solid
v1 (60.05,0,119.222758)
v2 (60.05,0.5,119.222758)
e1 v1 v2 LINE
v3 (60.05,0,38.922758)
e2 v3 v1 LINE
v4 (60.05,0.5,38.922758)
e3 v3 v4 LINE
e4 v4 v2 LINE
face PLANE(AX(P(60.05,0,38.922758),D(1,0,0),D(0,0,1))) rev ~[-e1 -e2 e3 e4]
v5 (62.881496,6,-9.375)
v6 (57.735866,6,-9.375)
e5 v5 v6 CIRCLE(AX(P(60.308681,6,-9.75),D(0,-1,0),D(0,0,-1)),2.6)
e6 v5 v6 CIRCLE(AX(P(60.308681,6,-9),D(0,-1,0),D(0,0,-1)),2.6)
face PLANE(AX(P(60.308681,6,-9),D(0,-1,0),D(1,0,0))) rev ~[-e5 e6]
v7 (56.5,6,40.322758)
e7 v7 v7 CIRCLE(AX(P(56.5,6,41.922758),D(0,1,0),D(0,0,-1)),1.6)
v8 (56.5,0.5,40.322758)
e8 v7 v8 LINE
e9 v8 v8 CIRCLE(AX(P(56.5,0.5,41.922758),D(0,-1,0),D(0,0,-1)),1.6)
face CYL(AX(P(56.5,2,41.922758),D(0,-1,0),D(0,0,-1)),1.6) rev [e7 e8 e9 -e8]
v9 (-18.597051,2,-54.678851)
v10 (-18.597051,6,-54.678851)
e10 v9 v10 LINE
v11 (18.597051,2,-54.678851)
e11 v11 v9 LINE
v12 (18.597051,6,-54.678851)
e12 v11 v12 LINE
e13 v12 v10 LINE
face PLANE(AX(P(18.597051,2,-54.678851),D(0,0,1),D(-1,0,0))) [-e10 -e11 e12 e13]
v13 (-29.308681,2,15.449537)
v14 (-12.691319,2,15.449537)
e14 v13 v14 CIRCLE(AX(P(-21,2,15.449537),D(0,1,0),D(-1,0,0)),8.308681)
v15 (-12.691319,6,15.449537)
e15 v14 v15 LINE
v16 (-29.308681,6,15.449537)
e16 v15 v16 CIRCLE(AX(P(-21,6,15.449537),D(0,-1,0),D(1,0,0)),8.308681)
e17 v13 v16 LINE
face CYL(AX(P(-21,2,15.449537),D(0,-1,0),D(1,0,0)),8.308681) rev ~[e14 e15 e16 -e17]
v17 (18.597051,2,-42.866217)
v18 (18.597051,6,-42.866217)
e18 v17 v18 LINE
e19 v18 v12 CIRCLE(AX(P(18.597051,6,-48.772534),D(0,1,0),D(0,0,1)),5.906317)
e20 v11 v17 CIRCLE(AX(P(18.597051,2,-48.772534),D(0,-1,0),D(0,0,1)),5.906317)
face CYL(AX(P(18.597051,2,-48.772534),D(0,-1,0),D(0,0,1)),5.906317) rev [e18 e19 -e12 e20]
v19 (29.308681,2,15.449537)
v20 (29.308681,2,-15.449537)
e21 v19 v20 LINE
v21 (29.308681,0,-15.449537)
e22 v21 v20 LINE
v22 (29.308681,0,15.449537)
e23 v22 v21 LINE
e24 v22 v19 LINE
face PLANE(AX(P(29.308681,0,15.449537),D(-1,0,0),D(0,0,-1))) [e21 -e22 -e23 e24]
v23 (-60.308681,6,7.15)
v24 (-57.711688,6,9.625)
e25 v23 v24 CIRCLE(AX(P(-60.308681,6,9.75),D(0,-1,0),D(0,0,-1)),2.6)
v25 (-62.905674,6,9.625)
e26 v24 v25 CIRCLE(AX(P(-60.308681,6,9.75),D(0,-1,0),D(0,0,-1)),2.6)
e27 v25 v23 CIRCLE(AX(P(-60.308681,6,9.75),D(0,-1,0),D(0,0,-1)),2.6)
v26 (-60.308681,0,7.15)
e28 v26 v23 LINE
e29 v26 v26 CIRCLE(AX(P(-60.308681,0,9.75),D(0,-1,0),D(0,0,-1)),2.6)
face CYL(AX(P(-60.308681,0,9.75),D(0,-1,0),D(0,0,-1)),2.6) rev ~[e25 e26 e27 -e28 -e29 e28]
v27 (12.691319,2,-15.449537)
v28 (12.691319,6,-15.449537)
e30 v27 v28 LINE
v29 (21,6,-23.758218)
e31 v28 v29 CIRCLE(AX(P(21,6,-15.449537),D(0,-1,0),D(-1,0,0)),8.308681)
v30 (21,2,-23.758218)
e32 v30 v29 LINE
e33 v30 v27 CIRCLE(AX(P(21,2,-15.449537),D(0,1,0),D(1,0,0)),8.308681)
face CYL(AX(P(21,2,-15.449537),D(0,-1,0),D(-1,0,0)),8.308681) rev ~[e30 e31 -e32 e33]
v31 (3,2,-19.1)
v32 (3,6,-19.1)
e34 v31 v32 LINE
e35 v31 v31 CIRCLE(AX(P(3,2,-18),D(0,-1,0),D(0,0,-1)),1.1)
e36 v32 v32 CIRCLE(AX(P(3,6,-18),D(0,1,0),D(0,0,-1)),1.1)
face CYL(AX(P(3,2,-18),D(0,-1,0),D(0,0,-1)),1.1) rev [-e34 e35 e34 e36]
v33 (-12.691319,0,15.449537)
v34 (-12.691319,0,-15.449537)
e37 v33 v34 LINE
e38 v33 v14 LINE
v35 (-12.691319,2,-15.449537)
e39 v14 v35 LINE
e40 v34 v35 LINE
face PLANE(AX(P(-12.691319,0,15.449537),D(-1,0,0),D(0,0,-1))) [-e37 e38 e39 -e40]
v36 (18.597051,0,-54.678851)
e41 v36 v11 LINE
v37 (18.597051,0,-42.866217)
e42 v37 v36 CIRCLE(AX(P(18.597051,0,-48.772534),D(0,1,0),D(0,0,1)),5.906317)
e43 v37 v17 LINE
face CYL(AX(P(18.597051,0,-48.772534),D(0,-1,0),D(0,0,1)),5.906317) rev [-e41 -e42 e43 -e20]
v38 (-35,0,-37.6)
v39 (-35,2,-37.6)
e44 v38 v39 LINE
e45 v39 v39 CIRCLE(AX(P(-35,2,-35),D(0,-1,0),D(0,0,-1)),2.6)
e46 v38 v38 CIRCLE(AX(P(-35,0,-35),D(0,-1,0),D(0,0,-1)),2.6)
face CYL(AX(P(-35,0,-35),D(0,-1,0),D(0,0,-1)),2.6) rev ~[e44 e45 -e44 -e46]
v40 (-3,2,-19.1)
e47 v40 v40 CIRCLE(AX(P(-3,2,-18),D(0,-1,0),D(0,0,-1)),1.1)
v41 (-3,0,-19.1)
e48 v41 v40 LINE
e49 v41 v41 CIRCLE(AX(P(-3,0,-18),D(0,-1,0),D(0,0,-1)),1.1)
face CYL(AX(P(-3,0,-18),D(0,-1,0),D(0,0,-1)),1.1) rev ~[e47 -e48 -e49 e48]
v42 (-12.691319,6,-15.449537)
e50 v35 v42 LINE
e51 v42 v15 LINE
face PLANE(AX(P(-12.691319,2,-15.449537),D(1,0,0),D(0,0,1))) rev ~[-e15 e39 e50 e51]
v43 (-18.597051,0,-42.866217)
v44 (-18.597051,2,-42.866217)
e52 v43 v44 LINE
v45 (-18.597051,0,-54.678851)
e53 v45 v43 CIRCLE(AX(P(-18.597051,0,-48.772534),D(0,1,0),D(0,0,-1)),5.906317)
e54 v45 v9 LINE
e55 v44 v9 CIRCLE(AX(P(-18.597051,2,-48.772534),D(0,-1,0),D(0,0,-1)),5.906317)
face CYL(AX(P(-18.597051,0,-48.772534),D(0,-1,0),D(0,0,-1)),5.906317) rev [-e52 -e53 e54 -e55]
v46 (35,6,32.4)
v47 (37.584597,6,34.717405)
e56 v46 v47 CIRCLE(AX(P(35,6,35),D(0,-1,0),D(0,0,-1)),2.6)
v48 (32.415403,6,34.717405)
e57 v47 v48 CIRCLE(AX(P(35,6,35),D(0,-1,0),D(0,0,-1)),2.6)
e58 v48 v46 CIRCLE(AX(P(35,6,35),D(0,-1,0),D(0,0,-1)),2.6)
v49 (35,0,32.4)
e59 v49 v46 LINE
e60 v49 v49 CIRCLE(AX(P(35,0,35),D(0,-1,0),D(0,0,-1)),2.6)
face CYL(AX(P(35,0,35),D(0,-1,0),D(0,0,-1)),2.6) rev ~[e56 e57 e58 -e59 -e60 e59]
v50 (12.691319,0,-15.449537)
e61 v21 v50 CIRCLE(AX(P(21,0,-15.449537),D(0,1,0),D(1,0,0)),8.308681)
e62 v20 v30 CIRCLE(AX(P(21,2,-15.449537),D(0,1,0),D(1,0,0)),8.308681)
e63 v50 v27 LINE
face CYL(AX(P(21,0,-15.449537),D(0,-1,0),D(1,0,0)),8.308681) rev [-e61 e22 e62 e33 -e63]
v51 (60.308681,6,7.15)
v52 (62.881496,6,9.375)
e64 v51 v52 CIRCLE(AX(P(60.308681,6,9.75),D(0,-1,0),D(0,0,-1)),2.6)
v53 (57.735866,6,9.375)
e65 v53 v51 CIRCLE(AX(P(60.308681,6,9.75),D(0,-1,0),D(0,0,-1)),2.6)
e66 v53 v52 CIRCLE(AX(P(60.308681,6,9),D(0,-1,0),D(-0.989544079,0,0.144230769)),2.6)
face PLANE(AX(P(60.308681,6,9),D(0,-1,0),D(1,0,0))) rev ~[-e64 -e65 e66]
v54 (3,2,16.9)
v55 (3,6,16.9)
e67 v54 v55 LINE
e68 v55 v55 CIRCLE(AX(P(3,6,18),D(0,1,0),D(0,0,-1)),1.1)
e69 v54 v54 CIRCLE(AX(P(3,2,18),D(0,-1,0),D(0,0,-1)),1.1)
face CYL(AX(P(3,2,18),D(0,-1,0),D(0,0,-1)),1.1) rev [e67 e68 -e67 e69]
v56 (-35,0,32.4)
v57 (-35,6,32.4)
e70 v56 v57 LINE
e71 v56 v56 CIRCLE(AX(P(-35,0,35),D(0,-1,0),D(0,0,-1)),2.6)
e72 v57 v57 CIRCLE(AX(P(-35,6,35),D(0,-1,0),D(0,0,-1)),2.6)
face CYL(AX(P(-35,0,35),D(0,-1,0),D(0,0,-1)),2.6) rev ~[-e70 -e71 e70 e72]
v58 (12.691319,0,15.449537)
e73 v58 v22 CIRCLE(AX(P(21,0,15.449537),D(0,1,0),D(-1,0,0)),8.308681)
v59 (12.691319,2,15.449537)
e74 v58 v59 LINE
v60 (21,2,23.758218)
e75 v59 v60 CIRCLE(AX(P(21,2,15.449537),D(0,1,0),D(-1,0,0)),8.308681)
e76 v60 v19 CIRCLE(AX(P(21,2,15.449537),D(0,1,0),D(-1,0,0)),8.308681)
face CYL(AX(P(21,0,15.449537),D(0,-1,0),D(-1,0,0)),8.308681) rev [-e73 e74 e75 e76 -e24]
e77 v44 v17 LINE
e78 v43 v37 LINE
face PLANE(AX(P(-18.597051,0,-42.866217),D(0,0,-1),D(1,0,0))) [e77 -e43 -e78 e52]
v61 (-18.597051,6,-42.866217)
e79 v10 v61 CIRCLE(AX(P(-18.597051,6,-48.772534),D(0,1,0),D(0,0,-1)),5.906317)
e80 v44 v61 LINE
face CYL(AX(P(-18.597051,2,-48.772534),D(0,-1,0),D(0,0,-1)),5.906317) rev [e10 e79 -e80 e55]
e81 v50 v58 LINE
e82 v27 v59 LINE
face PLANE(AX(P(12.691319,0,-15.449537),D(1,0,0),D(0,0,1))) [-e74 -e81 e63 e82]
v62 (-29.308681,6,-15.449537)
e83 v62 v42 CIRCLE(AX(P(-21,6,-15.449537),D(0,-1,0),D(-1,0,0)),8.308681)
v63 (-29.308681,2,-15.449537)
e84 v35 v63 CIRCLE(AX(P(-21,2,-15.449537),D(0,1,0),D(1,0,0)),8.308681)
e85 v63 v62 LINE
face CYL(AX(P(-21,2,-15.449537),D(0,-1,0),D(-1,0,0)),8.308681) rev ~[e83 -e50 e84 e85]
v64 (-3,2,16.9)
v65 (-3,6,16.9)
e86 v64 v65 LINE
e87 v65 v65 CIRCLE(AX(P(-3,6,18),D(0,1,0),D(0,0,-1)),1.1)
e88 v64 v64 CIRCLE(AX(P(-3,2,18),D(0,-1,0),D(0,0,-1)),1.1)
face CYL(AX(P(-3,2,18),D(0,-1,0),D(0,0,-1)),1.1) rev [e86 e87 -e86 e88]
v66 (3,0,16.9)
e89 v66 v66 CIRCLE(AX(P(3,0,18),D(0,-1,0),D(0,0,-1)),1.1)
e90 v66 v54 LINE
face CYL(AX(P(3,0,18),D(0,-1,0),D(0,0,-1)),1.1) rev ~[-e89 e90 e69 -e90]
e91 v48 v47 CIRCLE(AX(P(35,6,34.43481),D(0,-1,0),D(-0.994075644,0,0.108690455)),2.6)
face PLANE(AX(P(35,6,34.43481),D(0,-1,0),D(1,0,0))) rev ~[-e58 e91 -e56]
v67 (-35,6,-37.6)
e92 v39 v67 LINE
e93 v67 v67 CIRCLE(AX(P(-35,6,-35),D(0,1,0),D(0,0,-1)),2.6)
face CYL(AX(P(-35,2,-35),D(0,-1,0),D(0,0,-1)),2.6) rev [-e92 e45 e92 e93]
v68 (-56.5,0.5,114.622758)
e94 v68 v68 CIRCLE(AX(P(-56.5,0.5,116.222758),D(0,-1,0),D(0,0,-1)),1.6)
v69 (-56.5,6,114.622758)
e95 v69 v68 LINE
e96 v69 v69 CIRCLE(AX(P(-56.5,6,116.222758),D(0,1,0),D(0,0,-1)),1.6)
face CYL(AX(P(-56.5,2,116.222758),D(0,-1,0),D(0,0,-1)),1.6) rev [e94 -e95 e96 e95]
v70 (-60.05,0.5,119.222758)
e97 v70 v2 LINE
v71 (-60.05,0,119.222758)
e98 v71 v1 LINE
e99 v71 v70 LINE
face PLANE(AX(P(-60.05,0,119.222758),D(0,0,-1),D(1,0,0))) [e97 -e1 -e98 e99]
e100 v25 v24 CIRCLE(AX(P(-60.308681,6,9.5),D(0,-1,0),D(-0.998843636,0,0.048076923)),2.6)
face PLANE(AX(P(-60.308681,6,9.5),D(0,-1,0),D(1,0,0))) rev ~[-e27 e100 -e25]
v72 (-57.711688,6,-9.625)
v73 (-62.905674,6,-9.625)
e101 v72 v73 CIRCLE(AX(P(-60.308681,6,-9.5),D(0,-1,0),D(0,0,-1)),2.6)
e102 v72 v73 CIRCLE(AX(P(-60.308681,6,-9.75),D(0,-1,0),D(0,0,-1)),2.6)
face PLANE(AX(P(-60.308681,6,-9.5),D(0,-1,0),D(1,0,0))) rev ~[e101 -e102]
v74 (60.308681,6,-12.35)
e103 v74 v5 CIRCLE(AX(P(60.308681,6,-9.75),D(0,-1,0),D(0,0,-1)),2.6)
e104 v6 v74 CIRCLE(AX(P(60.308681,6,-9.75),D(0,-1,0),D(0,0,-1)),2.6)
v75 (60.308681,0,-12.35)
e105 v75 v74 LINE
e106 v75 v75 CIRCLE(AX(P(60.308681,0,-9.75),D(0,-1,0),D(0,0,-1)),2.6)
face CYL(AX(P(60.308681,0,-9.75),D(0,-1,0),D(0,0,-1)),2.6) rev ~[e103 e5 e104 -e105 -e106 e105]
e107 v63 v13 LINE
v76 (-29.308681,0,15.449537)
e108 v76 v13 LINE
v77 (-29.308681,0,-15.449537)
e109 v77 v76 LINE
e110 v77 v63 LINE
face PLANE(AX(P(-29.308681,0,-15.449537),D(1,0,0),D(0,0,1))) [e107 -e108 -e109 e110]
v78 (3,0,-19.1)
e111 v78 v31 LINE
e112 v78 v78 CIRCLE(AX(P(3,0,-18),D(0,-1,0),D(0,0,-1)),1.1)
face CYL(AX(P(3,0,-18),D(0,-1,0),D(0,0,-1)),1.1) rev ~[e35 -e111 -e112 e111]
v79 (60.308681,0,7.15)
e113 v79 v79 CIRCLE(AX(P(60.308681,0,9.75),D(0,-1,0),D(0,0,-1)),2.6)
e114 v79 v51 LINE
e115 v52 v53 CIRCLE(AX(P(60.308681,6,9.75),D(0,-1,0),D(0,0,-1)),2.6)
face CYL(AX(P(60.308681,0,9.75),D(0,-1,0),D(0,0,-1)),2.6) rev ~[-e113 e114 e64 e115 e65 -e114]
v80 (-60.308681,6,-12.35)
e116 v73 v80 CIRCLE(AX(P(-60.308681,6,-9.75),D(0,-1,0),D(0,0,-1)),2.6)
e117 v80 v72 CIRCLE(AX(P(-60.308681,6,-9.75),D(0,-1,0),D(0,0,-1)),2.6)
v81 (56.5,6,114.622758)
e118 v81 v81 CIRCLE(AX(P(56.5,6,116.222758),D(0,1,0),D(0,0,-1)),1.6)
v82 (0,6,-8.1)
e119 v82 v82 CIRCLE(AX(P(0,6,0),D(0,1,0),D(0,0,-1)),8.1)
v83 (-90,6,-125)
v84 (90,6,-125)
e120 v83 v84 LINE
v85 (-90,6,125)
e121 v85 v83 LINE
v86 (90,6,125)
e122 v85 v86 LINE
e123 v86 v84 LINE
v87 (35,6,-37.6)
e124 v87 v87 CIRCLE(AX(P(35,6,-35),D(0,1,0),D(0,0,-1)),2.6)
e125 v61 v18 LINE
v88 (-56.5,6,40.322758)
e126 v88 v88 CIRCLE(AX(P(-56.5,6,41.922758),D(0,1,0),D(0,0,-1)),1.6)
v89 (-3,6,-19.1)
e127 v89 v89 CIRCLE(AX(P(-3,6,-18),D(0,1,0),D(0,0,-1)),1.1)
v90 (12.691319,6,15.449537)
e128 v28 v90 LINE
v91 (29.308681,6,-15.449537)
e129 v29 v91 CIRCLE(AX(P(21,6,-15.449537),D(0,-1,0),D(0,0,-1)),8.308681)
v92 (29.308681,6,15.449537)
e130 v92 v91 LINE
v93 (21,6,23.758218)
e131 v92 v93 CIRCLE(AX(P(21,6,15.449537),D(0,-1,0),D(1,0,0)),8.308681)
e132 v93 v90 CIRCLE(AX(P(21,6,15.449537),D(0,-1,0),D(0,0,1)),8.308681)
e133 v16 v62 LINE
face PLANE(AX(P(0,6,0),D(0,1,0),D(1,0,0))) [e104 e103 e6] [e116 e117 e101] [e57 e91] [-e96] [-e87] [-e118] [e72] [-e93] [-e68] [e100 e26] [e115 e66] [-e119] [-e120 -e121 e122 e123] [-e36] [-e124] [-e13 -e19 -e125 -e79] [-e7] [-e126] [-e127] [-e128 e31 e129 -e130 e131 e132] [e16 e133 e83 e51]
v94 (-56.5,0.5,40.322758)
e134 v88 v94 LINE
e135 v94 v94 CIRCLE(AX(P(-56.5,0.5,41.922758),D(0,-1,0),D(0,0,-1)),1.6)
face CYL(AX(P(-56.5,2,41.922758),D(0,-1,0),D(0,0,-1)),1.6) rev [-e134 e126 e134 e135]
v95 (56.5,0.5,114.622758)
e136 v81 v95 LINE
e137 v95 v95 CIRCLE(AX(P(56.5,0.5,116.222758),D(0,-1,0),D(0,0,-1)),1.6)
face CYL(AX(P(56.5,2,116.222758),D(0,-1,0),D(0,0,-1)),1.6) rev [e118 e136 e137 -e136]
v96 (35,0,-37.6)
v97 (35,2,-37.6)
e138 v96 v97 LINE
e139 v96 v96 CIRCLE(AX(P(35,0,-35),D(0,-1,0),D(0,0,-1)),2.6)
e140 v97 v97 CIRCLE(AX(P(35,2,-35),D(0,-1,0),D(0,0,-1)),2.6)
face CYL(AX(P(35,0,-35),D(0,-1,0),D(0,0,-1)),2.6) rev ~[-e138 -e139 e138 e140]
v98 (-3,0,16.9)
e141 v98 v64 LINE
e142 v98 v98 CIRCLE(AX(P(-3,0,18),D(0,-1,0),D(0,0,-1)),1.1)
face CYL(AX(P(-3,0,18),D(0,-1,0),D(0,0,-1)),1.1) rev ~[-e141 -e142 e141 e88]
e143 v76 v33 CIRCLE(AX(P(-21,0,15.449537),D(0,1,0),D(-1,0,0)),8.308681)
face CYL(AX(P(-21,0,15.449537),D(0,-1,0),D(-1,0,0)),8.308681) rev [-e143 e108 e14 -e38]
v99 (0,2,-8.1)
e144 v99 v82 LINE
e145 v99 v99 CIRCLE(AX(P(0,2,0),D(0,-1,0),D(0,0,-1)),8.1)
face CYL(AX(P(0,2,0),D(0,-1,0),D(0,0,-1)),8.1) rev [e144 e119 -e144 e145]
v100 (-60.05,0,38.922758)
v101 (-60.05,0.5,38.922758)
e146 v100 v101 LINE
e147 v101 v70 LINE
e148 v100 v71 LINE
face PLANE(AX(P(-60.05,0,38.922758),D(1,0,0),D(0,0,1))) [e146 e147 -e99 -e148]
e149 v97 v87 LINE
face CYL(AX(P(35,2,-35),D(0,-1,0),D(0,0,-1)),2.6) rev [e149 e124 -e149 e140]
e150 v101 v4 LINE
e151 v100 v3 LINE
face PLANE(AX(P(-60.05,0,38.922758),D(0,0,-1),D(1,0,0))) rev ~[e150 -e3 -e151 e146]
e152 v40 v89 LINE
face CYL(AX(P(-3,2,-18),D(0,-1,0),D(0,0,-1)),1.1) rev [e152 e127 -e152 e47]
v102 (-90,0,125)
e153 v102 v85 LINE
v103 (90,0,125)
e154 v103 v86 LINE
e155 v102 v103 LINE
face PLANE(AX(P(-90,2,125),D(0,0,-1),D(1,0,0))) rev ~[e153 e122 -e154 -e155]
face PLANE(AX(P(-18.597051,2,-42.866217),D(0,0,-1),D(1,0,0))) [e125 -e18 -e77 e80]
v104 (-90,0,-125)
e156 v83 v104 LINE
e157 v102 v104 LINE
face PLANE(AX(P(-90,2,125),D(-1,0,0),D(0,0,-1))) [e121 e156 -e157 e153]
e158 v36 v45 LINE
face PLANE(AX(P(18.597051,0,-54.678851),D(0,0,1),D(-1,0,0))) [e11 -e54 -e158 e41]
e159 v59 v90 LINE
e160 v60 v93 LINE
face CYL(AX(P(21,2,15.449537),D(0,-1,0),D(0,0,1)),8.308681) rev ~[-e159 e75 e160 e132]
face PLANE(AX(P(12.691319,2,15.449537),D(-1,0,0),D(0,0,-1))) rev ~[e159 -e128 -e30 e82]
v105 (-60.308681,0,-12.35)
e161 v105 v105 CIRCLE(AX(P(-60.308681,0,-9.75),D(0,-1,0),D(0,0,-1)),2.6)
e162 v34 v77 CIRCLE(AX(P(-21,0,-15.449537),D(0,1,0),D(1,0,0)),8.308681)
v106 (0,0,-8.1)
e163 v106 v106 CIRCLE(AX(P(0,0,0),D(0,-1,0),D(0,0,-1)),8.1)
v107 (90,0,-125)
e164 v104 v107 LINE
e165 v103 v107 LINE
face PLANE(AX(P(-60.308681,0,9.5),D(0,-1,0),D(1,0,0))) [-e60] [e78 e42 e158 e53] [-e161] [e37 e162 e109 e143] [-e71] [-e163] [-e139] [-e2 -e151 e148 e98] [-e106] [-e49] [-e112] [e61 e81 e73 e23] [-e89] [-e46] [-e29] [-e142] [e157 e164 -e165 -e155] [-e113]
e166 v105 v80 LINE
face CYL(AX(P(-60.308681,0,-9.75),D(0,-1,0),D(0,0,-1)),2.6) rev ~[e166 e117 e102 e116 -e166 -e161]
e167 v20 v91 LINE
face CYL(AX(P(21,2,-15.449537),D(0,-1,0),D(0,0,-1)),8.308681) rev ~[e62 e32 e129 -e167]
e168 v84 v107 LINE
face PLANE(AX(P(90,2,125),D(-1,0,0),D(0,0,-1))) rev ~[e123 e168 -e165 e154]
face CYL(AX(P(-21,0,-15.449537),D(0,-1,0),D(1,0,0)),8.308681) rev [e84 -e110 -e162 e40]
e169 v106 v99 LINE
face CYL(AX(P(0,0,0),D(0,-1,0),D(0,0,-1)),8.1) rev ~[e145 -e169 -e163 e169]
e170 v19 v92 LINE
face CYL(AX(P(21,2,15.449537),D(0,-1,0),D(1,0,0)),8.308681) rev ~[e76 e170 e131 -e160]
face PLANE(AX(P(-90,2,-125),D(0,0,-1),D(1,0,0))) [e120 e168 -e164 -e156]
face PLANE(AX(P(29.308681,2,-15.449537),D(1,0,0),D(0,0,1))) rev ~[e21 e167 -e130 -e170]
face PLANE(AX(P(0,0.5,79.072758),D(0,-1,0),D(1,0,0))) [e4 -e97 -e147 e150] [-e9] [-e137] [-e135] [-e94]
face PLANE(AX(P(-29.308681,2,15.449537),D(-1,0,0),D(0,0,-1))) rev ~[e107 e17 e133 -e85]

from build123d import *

# Parameters (mm, degrees)
SKETCH_1_W           = 80
SKETCH_1_H           = 80
EXTRUDE_1_DEPTH      = 2
SKETCH_2_R           = 2.5
CUT_EXTRUDE_1_DEPTH  = 2
SKETCH_3_R           = 1
CUT_EXTRUDE_2_DEPTH  = 2
SKETCH_4_R           = 8
CUT_EXTRUDE_3_DEPTH  = 2
SKETCH_5_R           = 2.6
SKETCH_5_R_2         = 1.1
CUT_EXTRUDE_4_DEPTH  = 10
CUT_EXTRUDE_5_DEPTH  = 10
SKETCH_7_W           = 125
SKETCH_7_H           = 125
SKETCH_7_R           = 1.1
SKETCH_7_R_2         = 2.6
SKETCH_7_R_3         = 8
EXTRUDE_2_DEPTH      = 2
SKETCH_8_W           = 250
SKETCH_8_H           = 250
SKETCH_8_R           = 1.1
SKETCH_8_R_2         = 8
EXTRUDE_4_DEPTH      = 2
CUT_EXTRUDE_7_DEPTH  = 70
SKETCH_13_R          = 2.6
CUT_EXTRUDE_10_DEPTH = 61.5
EXTRUDE_5_DEPTH      = 2
CUT_EXTRUDE_12_DEPTH = 2
SKETCH_17_R          = 1.1
EXTRUDE_6_DEPTH      = 2
SKETCH_18_R          = 1.1
CUT_EXTRUDE_13_DEPTH = 2
SKETCH_20_W          = 120.1
SKETCH_20_H          = 80.3
CUT_EXTRUDE_14_DEPTH = 0.5
SKETCH_21_R          = 1.6
CUT_EXTRUDE_15_DEPTH = 10
SKETCH_19_R          = 2.6
CUT_EXTRUDE_16_DEPTH = 10
SKETCH_24_R          = 8.1
CUT_EXTRUDE_19_DEPTH = 10
CUT_EXTRUDE_20_DEPTH = 10
SKETCH_25_R          = 2.6
SKETCH_25_W          = 50
SKETCH_25_H          = 250
CUT_EXTRUDE_21_DEPTH = 18
SKETCH_29_W          = 15
SKETCH_29_H          = 250
EXTRUDE_9_DEPTH      = 2
SKETCH_31_W          = 180
SKETCH_31_H          = 250
SKETCH_31_R          = 1.6
SKETCH_31_R_2        = 2.6
SKETCH_31_R_3        = 1.1
SKETCH_31_R_4        = 8.1
EXTRUDE_10_DEPTH     = 4
CUT_EXTRUDE_22_DEPTH = 56
SKETCH_33_R          = 2.6
EXTRUDE_11_DEPTH     = 6
SKETCH_34_R          = 2.6
CUT_EXTRUDE_23_DEPTH = 10
SKETCH_35_R          = 2.6
EXTRUDE_12_DEPTH     = 6
SKETCH_36_R          = 2.6
CUT_EXTRUDE_24_DEPTH = 20


with BuildPart() as part:
    # 草图1 → 凸台-拉伸1 (new body)
    with BuildSketch(Plane(origin=(0, 0, 0), x_dir=(1, 0, 0), z_dir=(0, 1, 0))):
        Rectangle(SKETCH_1_W, SKETCH_1_H)
    extrude(amount=EXTRUDE_1_DEPTH)

    # 草图2 → 切除-拉伸1 (cut)
    with BuildSketch(Plane(origin=(0, 2, 0), x_dir=(1, 0, 0), z_dir=(0, 1, 0))):
        with Locations(Location((-33, -33, 0), (0, 0, 270))):
            Circle(SKETCH_2_R)
        with Locations(Location((-33, 33, 0), (0, 0, 270))):
            Circle(SKETCH_2_R)
        with Locations(Location((33, 33.941041699, 0), (0, 0, 270))):
            Circle(SKETCH_2_R)
        with Locations(Location((33, -33, 0), (0, 0, 270))):
            Circle(SKETCH_2_R)
    extrude(amount=-CUT_EXTRUDE_1_DEPTH, mode=Mode.SUBTRACT)

    # 草图3 → 切除-拉伸2 (cut)
    with BuildSketch(Plane.XZ):
        with Locations(Location((-2.5, 17.5, 0), (0, 0, 270))):
            Circle(SKETCH_3_R)
        with Locations(Location((2.5, 17.5, 0), (0, 0, 270))):
            Circle(SKETCH_3_R)
        with Locations(Location((-2.5, -17.5, 0), (0, 0, 270))):
            Circle(SKETCH_3_R)
        with Locations(Location((2.5, -17.5, 0), (0, 0, 270))):
            Circle(SKETCH_3_R)
    extrude(amount=-CUT_EXTRUDE_2_DEPTH, mode=Mode.SUBTRACT)

    # 草图4 → 切除-拉伸3 (cut)
    with BuildSketch(Plane.XZ):
        with Locations(Location((0, 0, 0), (0, 0, 270))):
            Circle(SKETCH_4_R)
    extrude(amount=-CUT_EXTRUDE_3_DEPTH, mode=Mode.SUBTRACT)

    # 草图5 → 切除-拉伸4 (cut)
    with BuildSketch(Plane.XZ):
        with Locations(Location((33, 33, 0), (0, 0, 270))):
            Circle(SKETCH_5_R)
        with Locations(Location((33, -33.941041699, 0), (0, 0, 270))):
            Circle(SKETCH_5_R)
        with Locations(Location((-33, -33, 0), (0, 0, 270))):
            Circle(SKETCH_5_R)
        with Locations(Location((-33, 33, 0), (0, 0, 270))):
            Circle(SKETCH_5_R)
        with Locations(Location((-2.5, 17.5, 0), (0, 0, 270))):
            Circle(SKETCH_5_R_2)
        with Locations(Location((2.5, 17.5, 0), (0, 0, 270))):
            Circle(SKETCH_5_R_2)
        with Locations(Location((2.5, -17.5, 0), (0, 0, 270))):
            Circle(SKETCH_5_R_2)
        with Locations(Location((-2.5, -17.5, 0), (0, 0, 270))):
            Circle(SKETCH_5_R_2)
    extrude(amount=-CUT_EXTRUDE_4_DEPTH, mode=Mode.SUBTRACT)

    # 草图6 → 切除-拉伸5 (cut)
    with BuildSketch(Plane.XZ):
        with BuildLine():
            Line((10.300693074, -30.535556058), (-10.300693074, -30.535556058))
            ThreePointArc((-10.300693074, -30.535556058), (-14.372100549, -26.464148583), (-10.300693074, -22.392741109))
            Line((-10.300693074, -22.392741109), (10.300693074, -22.392741109))
            ThreePointArc((10.300693074, -22.392741109), (14.372100549, -26.464148583), (10.300693074, -30.535556058))
        make_face()
    extrude(amount=-CUT_EXTRUDE_5_DEPTH, mode=Mode.SUBTRACT)

    # 草图7 → 凸台-拉伸2 (add)
    with BuildSketch(Plane.XZ):
        Rectangle(SKETCH_7_W, SKETCH_7_H)
        with Locations(Location((2.5, 17.5, 0), (0, 0, 270))):
            Circle(SKETCH_7_R, mode=Mode.SUBTRACT)
        with Locations(Location((-2.5, 17.5, 0), (0, 0, 270))):
            Circle(SKETCH_7_R, mode=Mode.SUBTRACT)
        with Locations(Location((-33, -33, 0), (0, 0, 270))):
            Circle(SKETCH_7_R_2, mode=Mode.SUBTRACT)
        with Locations(Location((-2.5, -17.5, 0), (0, 0, 270))):
            Circle(SKETCH_7_R, mode=Mode.SUBTRACT)
        with Locations(Location((2.5, -17.5, 0), (0, 0, 270))):
            Circle(SKETCH_7_R, mode=Mode.SUBTRACT)
        with Locations(Location((0, 0, 0), (0, 0, 270))):
            Circle(SKETCH_7_R_3, mode=Mode.SUBTRACT)
        with Locations(Location((33, -33.941041699, 0), (0, 0, 270))):
            Circle(SKETCH_7_R_2, mode=Mode.SUBTRACT)
        with Locations(Location((33, 33, 0), (0, 0, 270))):
            Circle(SKETCH_7_R_2, mode=Mode.SUBTRACT)
        with Locations(Location((-33, 33, 0), (0, 0, 270))):
            Circle(SKETCH_7_R_2, mode=Mode.SUBTRACT)
        with BuildLine():
            Line((-10.300693074, -30.535556058), (10.300693074, -30.535556058))
            ThreePointArc((10.300693074, -30.535556058), (14.372100549, -26.464148583), (10.300693074, -22.392741109))
            Line((10.300693074, -22.392741109), (-10.300693074, -22.392741109))
            ThreePointArc((-10.300693074, -22.392741109), (-14.372100549, -26.464148583), (-10.300693074, -30.535556058))
        make_face(mode=Mode.SUBTRACT)
    extrude(amount=-EXTRUDE_2_DEPTH)

    # 草图8 → 凸台-拉伸4 (add)
    with BuildSketch(Plane.XZ):
        Rectangle(SKETCH_8_W, SKETCH_8_H)
        with Locations(Location((2.5, -17.5, 0), (0, 0, 270))):
            Circle(SKETCH_8_R, mode=Mode.SUBTRACT)
        with Locations(Location((-2.5, -17.5, 0), (0, 0, 270))):
            Circle(SKETCH_8_R, mode=Mode.SUBTRACT)
        with Locations(Location((-2.5, 17.5, 0), (0, 0, 270))):
            Circle(SKETCH_8_R, mode=Mode.SUBTRACT)
        with Locations(Location((2.5, 17.5, 0), (0, 0, 270))):
            Circle(SKETCH_8_R, mode=Mode.SUBTRACT)
        with Locations(Location((0, 0, 0), (0, 0, 270))):
            Circle(SKETCH_8_R_2, mode=Mode.SUBTRACT)
    extrude(amount=-EXTRUDE_4_DEPTH)

    # 草图11 → 切除-拉伸7 (cut)
    with BuildSketch(Plane.XZ):
        with BuildLine():
            Line((25, -55.462499596), (-25, -55.462499596))
            ThreePointArc((-25, -55.462499596), (-40, -40.462499596), (-25, -25.462499596))
            Line((-25, -25.462499596), (25, -25.462499596))
            ThreePointArc((25, -25.462499596), (40, -40.462499596), (25, -55.462499596))
        make_face()
    extrude(amount=-CUT_EXTRUDE_7_DEPTH, mode=Mode.SUBTRACT)

    # 草图13 → 切除-拉伸10 (cut)
    with BuildSketch(Plane.XZ):
        with Locations(Location((-105, -105, 0), (0, 0, 270))):
            Circle(SKETCH_13_R)
        with Locations(Location((-105, 105, 0), (0, 0, 270))):
            Circle(SKETCH_13_R)
        with Locations(Location((105, 105, 0), (0, 0, 270))):
            Circle(SKETCH_13_R)
        with Locations(Location((105, -105, 0), (0, 0, 270))):
            Circle(SKETCH_13_R)
    extrude(amount=-CUT_EXTRUDE_10_DEPTH, mode=Mode.SUBTRACT)

    # 草图14 → 凸台-拉伸5 (add)
    with BuildSketch(Plane.XZ):
        with BuildLine():
            Line((25, -55.462499596), (-25, -55.462499596))
            ThreePointArc((-25, -55.462499596), (-40, -40.462499596), (-25, -25.462499596))
            Line((-25, -25.462499596), (25, -25.462499596))
            ThreePointArc((25, -25.462499596), (40, -40.462499596), (25, -55.462499596))
        make_face()
    extrude(amount=-EXTRUDE_5_DEPTH)

    # 草图16 → 切除-拉伸12 (cut)
    with BuildSketch(Plane(origin=(0, 0, 0), x_dir=(-1, 0, 0), z_dir=(0, -1, 0))):
        with BuildLine():
            Line((-12.691318962, 15.449537291), (-12.691318962, -15.449537291))
            ThreePointArc((-12.691318962, -15.449537291), (-21, -23.758218329), (-29.308681038, -15.449537291))
            Line((-29.308681038, -15.449537291), (-29.308681038, 15.449537291))
            ThreePointArc((-29.308681038, 15.449537291), (-21, 23.758218329), (-12.691318962, 15.449537291))
        make_face()
        with BuildLine():
            Line((12.691318962, -15.449537291), (12.691318962, 15.449537291))
            ThreePointArc((12.691318962, 15.449537291), (21, 23.758218329), (29.308681038, 15.449537291))
            Line((29.308681038, 15.449537291), (29.308681038, -15.449537291))
            ThreePointArc((29.308681038, -15.449537291), (21, -23.758218329), (12.691318962, -15.449537291))
        make_face()
    extrude(amount=-CUT_EXTRUDE_12_DEPTH, mode=Mode.SUBTRACT)

    # 草图17 → 凸台-拉伸6 (add)
    with BuildSketch(Plane.XZ):
        with Locations((2.5, -17.5)):
            Circle(SKETCH_17_R)
        with Locations((-2.5, -17.5)):
            Circle(SKETCH_17_R)
        with Locations((2.5, 17.5)):
            Circle(SKETCH_17_R)
        with Locations((-2.5, 17.5)):
            Circle(SKETCH_17_R)
    extrude(amount=-EXTRUDE_6_DEPTH)

    # 草图18 → 切除-拉伸13 (cut)
    with BuildSketch(Plane.XZ):
        with Locations(Location((3, 18, 0), (0, 0, 270))):
            Circle(SKETCH_18_R)
        with Locations(Location((-3, 18, 0), (0, 0, 270))):
            Circle(SKETCH_18_R)
        with Locations(Location((-3, -18, 0), (0, 0, 270))):
            Circle(SKETCH_18_R)
        with Locations(Location((3, -18, 0), (0, 0, 270))):
            Circle(SKETCH_18_R)
    extrude(amount=-CUT_EXTRUDE_13_DEPTH, mode=Mode.SUBTRACT)

    # 草图20 → 切除-拉伸14 (cut)
    with BuildSketch(Plane.XZ):
        with Locations((0, 79.072758312)):
            Rectangle(SKETCH_20_W, SKETCH_20_H)
    extrude(amount=-CUT_EXTRUDE_14_DEPTH, mode=Mode.SUBTRACT)

    # 草图21 → 切除-拉伸15 (cut)
    with BuildSketch(Plane.XZ.offset(-0.5)):
        with Locations(Location((-56.5, 116.222758312, 0), (0, 0, 270))):
            Circle(SKETCH_21_R)
        with Locations(Location((-56.5, 41.922758312, 0), (0, 0, 270))):
            Circle(SKETCH_21_R)
        with Locations(Location((56.5, 116.222758312, 0), (0, 0, 270))):
            Circle(SKETCH_21_R)
        with Locations(Location((56.5, 41.922758312, 0), (0, 0, 270))):
            Circle(SKETCH_21_R)
    extrude(amount=-CUT_EXTRUDE_15_DEPTH, mode=Mode.SUBTRACT)

    # 草图19 → 切除-拉伸16 (cut)
    with BuildSketch(Plane.XZ):
        with Locations(Location((-35, 35, 0), (0, 0, 270))):
            Circle(SKETCH_19_R)
        with Locations(Location((35, 34.434809636, 0), (0, 0, 270))):
            Circle(SKETCH_19_R)
        with Locations(Location((35, -35, 0), (0, 0, 270))):
            Circle(SKETCH_19_R)
        with Locations(Location((-35, -35, 0), (0, 0, 270))):
            Circle(SKETCH_19_R)
    extrude(amount=-CUT_EXTRUDE_16_DEPTH, mode=Mode.SUBTRACT)

    # 草图24 → 切除-拉伸19 (cut)
    with BuildSketch(Plane.XZ):
        with Locations(Location((0, 0, 0), (0, 0, 270))):
            Circle(SKETCH_24_R)
    extrude(amount=-CUT_EXTRUDE_19_DEPTH, mode=Mode.SUBTRACT)

    # 草图22 → 切除-拉伸20 (cut)
    with BuildSketch(Plane.XZ):
        with BuildLine():
            Line((18.597051427, -54.678850568), (-18.597051427, -54.678850568))
            ThreePointArc((-18.597051427, -54.678850568), (-24.503368167, -48.772533828), (-18.597051427, -42.866217089))
            Line((-18.597051427, -42.866217089), (18.597051427, -42.866217089))
            ThreePointArc((18.597051427, -42.866217089), (24.503368167, -48.772533828), (18.597051427, -54.678850568))
        make_face()
    extrude(amount=-CUT_EXTRUDE_20_DEPTH, mode=Mode.SUBTRACT)

    # 草图25 → 切除-拉伸21 (cut)
    with BuildSketch(Plane(origin=(0, 0, 0), x_dir=(-1, 0, 0), z_dir=(0, -1, 0))):
        with Locations(Location((60.308681038, -9.5, 0), (0, 0, 90))):
            Circle(SKETCH_25_R)
        with Locations(Location((60.308681038, 9.5, 0), (0, 0, 90))):
            Circle(SKETCH_25_R)
        with Locations(Location((-60.308681038, -9, 0), (0, 0, 90))):
            Circle(SKETCH_25_R)
        with Locations(Location((-60.308681038, 9, 0), (0, 0, 90))):
            Circle(SKETCH_25_R)
        with Locations((100, 0)):
            Rectangle(SKETCH_25_W, SKETCH_25_H)
        with Locations((-100, 0)):
            Rectangle(SKETCH_25_W, SKETCH_25_H)
    extrude(amount=-CUT_EXTRUDE_21_DEPTH, mode=Mode.SUBTRACT)

    # 草图29 → 凸台-拉伸9 (add)
    with BuildSketch(Plane(origin=(0, 0, 0), x_dir=(-1, 0, 0), z_dir=(0, -1, 0))):
        with Locations((82.5, 0)):
            Rectangle(SKETCH_29_W, SKETCH_29_H)
        with Locations((-82.5, 0)):
            Rectangle(SKETCH_29_W, SKETCH_29_H)
    extrude(amount=-EXTRUDE_9_DEPTH)

    # 草图31 → 凸台-拉伸10 (add)
    with BuildSketch(Plane(origin=(0, 2, 0), x_dir=(1, 0, 0), z_dir=(0, 1, 0))):
        Rectangle(SKETCH_31_W, SKETCH_31_H)
        with Locations(Location((-56.5, -116.222758312, 0), (0, 0, 90))):
            Circle(SKETCH_31_R, mode=Mode.SUBTRACT)
        with Locations(Location((56.5, -116.222758312, 0), (0, 0, 90))):
            Circle(SKETCH_31_R, mode=Mode.SUBTRACT)
        with Locations(Location((56.5, -41.922758312, 0), (0, 0, 90))):
            Circle(SKETCH_31_R, mode=Mode.SUBTRACT)
        with Locations(Location((35, -34.434809636, 0), (0, 0, 90))):
            Circle(SKETCH_31_R_2, mode=Mode.SUBTRACT)
        with Locations(Location((60.308681038, -9, 0), (0, 0, 90))):
            Circle(SKETCH_31_R_2, mode=Mode.SUBTRACT)
        with Locations(Location((60.308681038, 9, 0), (0, 0, 90))):
            Circle(SKETCH_31_R_2, mode=Mode.SUBTRACT)
        with Locations(Location((35, 35, 0), (0, 0, 90))):
            Circle(SKETCH_31_R_2, mode=Mode.SUBTRACT)
        with Locations(Location((3, -18, 0), (0, 0, 90))):
            Circle(SKETCH_31_R_3, mode=Mode.SUBTRACT)
        with Locations(Location((-3, -18, 0), (0, 0, 90))):
            Circle(SKETCH_31_R_3, mode=Mode.SUBTRACT)
        with Locations(Location((-3, 18, 0), (0, 0, 90))):
            Circle(SKETCH_31_R_3, mode=Mode.SUBTRACT)
        with Locations(Location((3, 18, 0), (0, 0, 90))):
            Circle(SKETCH_31_R_3, mode=Mode.SUBTRACT)
        with Locations(Location((0, 0, 0), (0, 0, 90))):
            Circle(SKETCH_31_R_4, mode=Mode.SUBTRACT)
        with Locations(Location((-35, -35, 0), (0, 0, 90))):
            Circle(SKETCH_31_R_2, mode=Mode.SUBTRACT)
        with Locations(Location((-56.5, -41.922758312, 0), (0, 0, 90))):
            Circle(SKETCH_31_R, mode=Mode.SUBTRACT)
        with Locations(Location((-60.308681038, -9.5, 0), (0, 0, 90))):
            Circle(SKETCH_31_R_2, mode=Mode.SUBTRACT)
        with Locations(Location((-60.308681038, 9.5, 0), (0, 0, 90))):
            Circle(SKETCH_31_R_2, mode=Mode.SUBTRACT)
        with Locations(Location((-35, 35, 0), (0, 0, 90))):
            Circle(SKETCH_31_R_2, mode=Mode.SUBTRACT)
        with BuildLine():
            Line((-29.308681038, -15.449537291), (-29.308681038, 15.449537291))
            ThreePointArc((-29.308681038, 15.449537291), (-21, 23.758218329), (-12.691318962, 15.449537291))
            Line((-12.691318962, 15.449537291), (-12.691318962, -15.449537291))
            ThreePointArc((-12.691318962, -15.449537291), (-21, -23.758218329), (-29.308681038, -15.449537291))
        make_face(mode=Mode.SUBTRACT)
        with BuildLine():
            Line((18.597051427, 54.678850568), (-18.597051427, 54.678850568))
            ThreePointArc((-18.597051427, 54.678850568), (-24.503368167, 48.772533828), (-18.597051427, 42.866217089))
            Line((-18.597051427, 42.866217089), (18.597051427, 42.866217089))
            ThreePointArc((18.597051427, 42.866217089), (24.503368167, 48.772533828), (18.597051427, 54.678850568))
        make_face(mode=Mode.SUBTRACT)
    extrude(amount=EXTRUDE_10_DEPTH)

    # 草图32 → 切除-拉伸22 (cut)
    with BuildSketch(Plane.XZ.offset(-2)):
        with BuildLine():
            ThreePointArc((29.308681038, 15.449537291), (26.875124704, 21.324661996), (21, 23.758218329))
            Line((21, 23.758218329), (21, -23.758218329))
            ThreePointArc((21, -23.758218329), (26.875124704, -21.324661996), (29.308681038, -15.449537291))
            Line((29.308681038, -15.449537291), (29.308681038, 15.449537291))
        make_face()
        with BuildLine():
            Line((21, -23.758218329), (21, 23.758218329))
            ThreePointArc((21, 23.758218329), (15.124875296, 21.324661996), (12.691318962, 15.449537291))
            Line((12.691318962, 15.449537291), (12.691318962, -15.449537291))
            ThreePointArc((12.691318962, -15.449537291), (15.124875296, -21.324661996), (21, -23.758218329))
        make_face()
    extrude(amount=-CUT_EXTRUDE_22_DEPTH, mode=Mode.SUBTRACT)

    # 草图33 → 凸台-拉伸11 (add)
    with BuildSketch(Plane.XZ):
        with Locations((-35, 35)):
            Circle(SKETCH_33_R)
        with Locations((35, 34.434809636)):
            Circle(SKETCH_33_R)
    extrude(amount=-EXTRUDE_11_DEPTH)

    # 草图34 → 切除-拉伸23 (cut)
    with BuildSketch(Plane.XZ):
        with Locations(Location((-35, 35, 0), (0, 0, 270))):
            Circle(SKETCH_34_R)
        with Locations(Location((35, 35, 0), (0, 0, 270))):
            Circle(SKETCH_34_R)
    extrude(amount=-CUT_EXTRUDE_23_DEPTH, mode=Mode.SUBTRACT)

    # 草图35 → 凸台-拉伸12 (add)
    with BuildSketch(Plane.XZ):
        with Locations((-60.308681038, 9.5)):
            Circle(SKETCH_35_R)
        with Locations((-60.308681038, -9.5)):
            Circle(SKETCH_35_R)
        with Locations((60.308681038, 9)):
            Circle(SKETCH_35_R)
        with Locations((60.308681038, -9)):
            Circle(SKETCH_35_R)
    extrude(amount=-EXTRUDE_12_DEPTH)

    # 草图36 → 切除-拉伸24 (cut)
    with BuildSketch(Plane.XZ):
        with Locations(Location((-60.308681038, 9.75, 0), (0, 0, 270))):
            Circle(SKETCH_36_R)
        with Locations(Location((-60.308681038, -9.75, 0), (0, 0, 270))):
            Circle(SKETCH_36_R)
        with Locations(Location((60.308681038, 9.75, 0), (0, 0, 270))):
            Circle(SKETCH_36_R)
        with Locations(Location((60.308681038, -9.75, 0), (0, 0, 270))):
            Circle(SKETCH_36_R)
    extrude(amount=-CUT_EXTRUDE_24_DEPTH, mode=Mode.SUBTRACT)


solid = part.part
